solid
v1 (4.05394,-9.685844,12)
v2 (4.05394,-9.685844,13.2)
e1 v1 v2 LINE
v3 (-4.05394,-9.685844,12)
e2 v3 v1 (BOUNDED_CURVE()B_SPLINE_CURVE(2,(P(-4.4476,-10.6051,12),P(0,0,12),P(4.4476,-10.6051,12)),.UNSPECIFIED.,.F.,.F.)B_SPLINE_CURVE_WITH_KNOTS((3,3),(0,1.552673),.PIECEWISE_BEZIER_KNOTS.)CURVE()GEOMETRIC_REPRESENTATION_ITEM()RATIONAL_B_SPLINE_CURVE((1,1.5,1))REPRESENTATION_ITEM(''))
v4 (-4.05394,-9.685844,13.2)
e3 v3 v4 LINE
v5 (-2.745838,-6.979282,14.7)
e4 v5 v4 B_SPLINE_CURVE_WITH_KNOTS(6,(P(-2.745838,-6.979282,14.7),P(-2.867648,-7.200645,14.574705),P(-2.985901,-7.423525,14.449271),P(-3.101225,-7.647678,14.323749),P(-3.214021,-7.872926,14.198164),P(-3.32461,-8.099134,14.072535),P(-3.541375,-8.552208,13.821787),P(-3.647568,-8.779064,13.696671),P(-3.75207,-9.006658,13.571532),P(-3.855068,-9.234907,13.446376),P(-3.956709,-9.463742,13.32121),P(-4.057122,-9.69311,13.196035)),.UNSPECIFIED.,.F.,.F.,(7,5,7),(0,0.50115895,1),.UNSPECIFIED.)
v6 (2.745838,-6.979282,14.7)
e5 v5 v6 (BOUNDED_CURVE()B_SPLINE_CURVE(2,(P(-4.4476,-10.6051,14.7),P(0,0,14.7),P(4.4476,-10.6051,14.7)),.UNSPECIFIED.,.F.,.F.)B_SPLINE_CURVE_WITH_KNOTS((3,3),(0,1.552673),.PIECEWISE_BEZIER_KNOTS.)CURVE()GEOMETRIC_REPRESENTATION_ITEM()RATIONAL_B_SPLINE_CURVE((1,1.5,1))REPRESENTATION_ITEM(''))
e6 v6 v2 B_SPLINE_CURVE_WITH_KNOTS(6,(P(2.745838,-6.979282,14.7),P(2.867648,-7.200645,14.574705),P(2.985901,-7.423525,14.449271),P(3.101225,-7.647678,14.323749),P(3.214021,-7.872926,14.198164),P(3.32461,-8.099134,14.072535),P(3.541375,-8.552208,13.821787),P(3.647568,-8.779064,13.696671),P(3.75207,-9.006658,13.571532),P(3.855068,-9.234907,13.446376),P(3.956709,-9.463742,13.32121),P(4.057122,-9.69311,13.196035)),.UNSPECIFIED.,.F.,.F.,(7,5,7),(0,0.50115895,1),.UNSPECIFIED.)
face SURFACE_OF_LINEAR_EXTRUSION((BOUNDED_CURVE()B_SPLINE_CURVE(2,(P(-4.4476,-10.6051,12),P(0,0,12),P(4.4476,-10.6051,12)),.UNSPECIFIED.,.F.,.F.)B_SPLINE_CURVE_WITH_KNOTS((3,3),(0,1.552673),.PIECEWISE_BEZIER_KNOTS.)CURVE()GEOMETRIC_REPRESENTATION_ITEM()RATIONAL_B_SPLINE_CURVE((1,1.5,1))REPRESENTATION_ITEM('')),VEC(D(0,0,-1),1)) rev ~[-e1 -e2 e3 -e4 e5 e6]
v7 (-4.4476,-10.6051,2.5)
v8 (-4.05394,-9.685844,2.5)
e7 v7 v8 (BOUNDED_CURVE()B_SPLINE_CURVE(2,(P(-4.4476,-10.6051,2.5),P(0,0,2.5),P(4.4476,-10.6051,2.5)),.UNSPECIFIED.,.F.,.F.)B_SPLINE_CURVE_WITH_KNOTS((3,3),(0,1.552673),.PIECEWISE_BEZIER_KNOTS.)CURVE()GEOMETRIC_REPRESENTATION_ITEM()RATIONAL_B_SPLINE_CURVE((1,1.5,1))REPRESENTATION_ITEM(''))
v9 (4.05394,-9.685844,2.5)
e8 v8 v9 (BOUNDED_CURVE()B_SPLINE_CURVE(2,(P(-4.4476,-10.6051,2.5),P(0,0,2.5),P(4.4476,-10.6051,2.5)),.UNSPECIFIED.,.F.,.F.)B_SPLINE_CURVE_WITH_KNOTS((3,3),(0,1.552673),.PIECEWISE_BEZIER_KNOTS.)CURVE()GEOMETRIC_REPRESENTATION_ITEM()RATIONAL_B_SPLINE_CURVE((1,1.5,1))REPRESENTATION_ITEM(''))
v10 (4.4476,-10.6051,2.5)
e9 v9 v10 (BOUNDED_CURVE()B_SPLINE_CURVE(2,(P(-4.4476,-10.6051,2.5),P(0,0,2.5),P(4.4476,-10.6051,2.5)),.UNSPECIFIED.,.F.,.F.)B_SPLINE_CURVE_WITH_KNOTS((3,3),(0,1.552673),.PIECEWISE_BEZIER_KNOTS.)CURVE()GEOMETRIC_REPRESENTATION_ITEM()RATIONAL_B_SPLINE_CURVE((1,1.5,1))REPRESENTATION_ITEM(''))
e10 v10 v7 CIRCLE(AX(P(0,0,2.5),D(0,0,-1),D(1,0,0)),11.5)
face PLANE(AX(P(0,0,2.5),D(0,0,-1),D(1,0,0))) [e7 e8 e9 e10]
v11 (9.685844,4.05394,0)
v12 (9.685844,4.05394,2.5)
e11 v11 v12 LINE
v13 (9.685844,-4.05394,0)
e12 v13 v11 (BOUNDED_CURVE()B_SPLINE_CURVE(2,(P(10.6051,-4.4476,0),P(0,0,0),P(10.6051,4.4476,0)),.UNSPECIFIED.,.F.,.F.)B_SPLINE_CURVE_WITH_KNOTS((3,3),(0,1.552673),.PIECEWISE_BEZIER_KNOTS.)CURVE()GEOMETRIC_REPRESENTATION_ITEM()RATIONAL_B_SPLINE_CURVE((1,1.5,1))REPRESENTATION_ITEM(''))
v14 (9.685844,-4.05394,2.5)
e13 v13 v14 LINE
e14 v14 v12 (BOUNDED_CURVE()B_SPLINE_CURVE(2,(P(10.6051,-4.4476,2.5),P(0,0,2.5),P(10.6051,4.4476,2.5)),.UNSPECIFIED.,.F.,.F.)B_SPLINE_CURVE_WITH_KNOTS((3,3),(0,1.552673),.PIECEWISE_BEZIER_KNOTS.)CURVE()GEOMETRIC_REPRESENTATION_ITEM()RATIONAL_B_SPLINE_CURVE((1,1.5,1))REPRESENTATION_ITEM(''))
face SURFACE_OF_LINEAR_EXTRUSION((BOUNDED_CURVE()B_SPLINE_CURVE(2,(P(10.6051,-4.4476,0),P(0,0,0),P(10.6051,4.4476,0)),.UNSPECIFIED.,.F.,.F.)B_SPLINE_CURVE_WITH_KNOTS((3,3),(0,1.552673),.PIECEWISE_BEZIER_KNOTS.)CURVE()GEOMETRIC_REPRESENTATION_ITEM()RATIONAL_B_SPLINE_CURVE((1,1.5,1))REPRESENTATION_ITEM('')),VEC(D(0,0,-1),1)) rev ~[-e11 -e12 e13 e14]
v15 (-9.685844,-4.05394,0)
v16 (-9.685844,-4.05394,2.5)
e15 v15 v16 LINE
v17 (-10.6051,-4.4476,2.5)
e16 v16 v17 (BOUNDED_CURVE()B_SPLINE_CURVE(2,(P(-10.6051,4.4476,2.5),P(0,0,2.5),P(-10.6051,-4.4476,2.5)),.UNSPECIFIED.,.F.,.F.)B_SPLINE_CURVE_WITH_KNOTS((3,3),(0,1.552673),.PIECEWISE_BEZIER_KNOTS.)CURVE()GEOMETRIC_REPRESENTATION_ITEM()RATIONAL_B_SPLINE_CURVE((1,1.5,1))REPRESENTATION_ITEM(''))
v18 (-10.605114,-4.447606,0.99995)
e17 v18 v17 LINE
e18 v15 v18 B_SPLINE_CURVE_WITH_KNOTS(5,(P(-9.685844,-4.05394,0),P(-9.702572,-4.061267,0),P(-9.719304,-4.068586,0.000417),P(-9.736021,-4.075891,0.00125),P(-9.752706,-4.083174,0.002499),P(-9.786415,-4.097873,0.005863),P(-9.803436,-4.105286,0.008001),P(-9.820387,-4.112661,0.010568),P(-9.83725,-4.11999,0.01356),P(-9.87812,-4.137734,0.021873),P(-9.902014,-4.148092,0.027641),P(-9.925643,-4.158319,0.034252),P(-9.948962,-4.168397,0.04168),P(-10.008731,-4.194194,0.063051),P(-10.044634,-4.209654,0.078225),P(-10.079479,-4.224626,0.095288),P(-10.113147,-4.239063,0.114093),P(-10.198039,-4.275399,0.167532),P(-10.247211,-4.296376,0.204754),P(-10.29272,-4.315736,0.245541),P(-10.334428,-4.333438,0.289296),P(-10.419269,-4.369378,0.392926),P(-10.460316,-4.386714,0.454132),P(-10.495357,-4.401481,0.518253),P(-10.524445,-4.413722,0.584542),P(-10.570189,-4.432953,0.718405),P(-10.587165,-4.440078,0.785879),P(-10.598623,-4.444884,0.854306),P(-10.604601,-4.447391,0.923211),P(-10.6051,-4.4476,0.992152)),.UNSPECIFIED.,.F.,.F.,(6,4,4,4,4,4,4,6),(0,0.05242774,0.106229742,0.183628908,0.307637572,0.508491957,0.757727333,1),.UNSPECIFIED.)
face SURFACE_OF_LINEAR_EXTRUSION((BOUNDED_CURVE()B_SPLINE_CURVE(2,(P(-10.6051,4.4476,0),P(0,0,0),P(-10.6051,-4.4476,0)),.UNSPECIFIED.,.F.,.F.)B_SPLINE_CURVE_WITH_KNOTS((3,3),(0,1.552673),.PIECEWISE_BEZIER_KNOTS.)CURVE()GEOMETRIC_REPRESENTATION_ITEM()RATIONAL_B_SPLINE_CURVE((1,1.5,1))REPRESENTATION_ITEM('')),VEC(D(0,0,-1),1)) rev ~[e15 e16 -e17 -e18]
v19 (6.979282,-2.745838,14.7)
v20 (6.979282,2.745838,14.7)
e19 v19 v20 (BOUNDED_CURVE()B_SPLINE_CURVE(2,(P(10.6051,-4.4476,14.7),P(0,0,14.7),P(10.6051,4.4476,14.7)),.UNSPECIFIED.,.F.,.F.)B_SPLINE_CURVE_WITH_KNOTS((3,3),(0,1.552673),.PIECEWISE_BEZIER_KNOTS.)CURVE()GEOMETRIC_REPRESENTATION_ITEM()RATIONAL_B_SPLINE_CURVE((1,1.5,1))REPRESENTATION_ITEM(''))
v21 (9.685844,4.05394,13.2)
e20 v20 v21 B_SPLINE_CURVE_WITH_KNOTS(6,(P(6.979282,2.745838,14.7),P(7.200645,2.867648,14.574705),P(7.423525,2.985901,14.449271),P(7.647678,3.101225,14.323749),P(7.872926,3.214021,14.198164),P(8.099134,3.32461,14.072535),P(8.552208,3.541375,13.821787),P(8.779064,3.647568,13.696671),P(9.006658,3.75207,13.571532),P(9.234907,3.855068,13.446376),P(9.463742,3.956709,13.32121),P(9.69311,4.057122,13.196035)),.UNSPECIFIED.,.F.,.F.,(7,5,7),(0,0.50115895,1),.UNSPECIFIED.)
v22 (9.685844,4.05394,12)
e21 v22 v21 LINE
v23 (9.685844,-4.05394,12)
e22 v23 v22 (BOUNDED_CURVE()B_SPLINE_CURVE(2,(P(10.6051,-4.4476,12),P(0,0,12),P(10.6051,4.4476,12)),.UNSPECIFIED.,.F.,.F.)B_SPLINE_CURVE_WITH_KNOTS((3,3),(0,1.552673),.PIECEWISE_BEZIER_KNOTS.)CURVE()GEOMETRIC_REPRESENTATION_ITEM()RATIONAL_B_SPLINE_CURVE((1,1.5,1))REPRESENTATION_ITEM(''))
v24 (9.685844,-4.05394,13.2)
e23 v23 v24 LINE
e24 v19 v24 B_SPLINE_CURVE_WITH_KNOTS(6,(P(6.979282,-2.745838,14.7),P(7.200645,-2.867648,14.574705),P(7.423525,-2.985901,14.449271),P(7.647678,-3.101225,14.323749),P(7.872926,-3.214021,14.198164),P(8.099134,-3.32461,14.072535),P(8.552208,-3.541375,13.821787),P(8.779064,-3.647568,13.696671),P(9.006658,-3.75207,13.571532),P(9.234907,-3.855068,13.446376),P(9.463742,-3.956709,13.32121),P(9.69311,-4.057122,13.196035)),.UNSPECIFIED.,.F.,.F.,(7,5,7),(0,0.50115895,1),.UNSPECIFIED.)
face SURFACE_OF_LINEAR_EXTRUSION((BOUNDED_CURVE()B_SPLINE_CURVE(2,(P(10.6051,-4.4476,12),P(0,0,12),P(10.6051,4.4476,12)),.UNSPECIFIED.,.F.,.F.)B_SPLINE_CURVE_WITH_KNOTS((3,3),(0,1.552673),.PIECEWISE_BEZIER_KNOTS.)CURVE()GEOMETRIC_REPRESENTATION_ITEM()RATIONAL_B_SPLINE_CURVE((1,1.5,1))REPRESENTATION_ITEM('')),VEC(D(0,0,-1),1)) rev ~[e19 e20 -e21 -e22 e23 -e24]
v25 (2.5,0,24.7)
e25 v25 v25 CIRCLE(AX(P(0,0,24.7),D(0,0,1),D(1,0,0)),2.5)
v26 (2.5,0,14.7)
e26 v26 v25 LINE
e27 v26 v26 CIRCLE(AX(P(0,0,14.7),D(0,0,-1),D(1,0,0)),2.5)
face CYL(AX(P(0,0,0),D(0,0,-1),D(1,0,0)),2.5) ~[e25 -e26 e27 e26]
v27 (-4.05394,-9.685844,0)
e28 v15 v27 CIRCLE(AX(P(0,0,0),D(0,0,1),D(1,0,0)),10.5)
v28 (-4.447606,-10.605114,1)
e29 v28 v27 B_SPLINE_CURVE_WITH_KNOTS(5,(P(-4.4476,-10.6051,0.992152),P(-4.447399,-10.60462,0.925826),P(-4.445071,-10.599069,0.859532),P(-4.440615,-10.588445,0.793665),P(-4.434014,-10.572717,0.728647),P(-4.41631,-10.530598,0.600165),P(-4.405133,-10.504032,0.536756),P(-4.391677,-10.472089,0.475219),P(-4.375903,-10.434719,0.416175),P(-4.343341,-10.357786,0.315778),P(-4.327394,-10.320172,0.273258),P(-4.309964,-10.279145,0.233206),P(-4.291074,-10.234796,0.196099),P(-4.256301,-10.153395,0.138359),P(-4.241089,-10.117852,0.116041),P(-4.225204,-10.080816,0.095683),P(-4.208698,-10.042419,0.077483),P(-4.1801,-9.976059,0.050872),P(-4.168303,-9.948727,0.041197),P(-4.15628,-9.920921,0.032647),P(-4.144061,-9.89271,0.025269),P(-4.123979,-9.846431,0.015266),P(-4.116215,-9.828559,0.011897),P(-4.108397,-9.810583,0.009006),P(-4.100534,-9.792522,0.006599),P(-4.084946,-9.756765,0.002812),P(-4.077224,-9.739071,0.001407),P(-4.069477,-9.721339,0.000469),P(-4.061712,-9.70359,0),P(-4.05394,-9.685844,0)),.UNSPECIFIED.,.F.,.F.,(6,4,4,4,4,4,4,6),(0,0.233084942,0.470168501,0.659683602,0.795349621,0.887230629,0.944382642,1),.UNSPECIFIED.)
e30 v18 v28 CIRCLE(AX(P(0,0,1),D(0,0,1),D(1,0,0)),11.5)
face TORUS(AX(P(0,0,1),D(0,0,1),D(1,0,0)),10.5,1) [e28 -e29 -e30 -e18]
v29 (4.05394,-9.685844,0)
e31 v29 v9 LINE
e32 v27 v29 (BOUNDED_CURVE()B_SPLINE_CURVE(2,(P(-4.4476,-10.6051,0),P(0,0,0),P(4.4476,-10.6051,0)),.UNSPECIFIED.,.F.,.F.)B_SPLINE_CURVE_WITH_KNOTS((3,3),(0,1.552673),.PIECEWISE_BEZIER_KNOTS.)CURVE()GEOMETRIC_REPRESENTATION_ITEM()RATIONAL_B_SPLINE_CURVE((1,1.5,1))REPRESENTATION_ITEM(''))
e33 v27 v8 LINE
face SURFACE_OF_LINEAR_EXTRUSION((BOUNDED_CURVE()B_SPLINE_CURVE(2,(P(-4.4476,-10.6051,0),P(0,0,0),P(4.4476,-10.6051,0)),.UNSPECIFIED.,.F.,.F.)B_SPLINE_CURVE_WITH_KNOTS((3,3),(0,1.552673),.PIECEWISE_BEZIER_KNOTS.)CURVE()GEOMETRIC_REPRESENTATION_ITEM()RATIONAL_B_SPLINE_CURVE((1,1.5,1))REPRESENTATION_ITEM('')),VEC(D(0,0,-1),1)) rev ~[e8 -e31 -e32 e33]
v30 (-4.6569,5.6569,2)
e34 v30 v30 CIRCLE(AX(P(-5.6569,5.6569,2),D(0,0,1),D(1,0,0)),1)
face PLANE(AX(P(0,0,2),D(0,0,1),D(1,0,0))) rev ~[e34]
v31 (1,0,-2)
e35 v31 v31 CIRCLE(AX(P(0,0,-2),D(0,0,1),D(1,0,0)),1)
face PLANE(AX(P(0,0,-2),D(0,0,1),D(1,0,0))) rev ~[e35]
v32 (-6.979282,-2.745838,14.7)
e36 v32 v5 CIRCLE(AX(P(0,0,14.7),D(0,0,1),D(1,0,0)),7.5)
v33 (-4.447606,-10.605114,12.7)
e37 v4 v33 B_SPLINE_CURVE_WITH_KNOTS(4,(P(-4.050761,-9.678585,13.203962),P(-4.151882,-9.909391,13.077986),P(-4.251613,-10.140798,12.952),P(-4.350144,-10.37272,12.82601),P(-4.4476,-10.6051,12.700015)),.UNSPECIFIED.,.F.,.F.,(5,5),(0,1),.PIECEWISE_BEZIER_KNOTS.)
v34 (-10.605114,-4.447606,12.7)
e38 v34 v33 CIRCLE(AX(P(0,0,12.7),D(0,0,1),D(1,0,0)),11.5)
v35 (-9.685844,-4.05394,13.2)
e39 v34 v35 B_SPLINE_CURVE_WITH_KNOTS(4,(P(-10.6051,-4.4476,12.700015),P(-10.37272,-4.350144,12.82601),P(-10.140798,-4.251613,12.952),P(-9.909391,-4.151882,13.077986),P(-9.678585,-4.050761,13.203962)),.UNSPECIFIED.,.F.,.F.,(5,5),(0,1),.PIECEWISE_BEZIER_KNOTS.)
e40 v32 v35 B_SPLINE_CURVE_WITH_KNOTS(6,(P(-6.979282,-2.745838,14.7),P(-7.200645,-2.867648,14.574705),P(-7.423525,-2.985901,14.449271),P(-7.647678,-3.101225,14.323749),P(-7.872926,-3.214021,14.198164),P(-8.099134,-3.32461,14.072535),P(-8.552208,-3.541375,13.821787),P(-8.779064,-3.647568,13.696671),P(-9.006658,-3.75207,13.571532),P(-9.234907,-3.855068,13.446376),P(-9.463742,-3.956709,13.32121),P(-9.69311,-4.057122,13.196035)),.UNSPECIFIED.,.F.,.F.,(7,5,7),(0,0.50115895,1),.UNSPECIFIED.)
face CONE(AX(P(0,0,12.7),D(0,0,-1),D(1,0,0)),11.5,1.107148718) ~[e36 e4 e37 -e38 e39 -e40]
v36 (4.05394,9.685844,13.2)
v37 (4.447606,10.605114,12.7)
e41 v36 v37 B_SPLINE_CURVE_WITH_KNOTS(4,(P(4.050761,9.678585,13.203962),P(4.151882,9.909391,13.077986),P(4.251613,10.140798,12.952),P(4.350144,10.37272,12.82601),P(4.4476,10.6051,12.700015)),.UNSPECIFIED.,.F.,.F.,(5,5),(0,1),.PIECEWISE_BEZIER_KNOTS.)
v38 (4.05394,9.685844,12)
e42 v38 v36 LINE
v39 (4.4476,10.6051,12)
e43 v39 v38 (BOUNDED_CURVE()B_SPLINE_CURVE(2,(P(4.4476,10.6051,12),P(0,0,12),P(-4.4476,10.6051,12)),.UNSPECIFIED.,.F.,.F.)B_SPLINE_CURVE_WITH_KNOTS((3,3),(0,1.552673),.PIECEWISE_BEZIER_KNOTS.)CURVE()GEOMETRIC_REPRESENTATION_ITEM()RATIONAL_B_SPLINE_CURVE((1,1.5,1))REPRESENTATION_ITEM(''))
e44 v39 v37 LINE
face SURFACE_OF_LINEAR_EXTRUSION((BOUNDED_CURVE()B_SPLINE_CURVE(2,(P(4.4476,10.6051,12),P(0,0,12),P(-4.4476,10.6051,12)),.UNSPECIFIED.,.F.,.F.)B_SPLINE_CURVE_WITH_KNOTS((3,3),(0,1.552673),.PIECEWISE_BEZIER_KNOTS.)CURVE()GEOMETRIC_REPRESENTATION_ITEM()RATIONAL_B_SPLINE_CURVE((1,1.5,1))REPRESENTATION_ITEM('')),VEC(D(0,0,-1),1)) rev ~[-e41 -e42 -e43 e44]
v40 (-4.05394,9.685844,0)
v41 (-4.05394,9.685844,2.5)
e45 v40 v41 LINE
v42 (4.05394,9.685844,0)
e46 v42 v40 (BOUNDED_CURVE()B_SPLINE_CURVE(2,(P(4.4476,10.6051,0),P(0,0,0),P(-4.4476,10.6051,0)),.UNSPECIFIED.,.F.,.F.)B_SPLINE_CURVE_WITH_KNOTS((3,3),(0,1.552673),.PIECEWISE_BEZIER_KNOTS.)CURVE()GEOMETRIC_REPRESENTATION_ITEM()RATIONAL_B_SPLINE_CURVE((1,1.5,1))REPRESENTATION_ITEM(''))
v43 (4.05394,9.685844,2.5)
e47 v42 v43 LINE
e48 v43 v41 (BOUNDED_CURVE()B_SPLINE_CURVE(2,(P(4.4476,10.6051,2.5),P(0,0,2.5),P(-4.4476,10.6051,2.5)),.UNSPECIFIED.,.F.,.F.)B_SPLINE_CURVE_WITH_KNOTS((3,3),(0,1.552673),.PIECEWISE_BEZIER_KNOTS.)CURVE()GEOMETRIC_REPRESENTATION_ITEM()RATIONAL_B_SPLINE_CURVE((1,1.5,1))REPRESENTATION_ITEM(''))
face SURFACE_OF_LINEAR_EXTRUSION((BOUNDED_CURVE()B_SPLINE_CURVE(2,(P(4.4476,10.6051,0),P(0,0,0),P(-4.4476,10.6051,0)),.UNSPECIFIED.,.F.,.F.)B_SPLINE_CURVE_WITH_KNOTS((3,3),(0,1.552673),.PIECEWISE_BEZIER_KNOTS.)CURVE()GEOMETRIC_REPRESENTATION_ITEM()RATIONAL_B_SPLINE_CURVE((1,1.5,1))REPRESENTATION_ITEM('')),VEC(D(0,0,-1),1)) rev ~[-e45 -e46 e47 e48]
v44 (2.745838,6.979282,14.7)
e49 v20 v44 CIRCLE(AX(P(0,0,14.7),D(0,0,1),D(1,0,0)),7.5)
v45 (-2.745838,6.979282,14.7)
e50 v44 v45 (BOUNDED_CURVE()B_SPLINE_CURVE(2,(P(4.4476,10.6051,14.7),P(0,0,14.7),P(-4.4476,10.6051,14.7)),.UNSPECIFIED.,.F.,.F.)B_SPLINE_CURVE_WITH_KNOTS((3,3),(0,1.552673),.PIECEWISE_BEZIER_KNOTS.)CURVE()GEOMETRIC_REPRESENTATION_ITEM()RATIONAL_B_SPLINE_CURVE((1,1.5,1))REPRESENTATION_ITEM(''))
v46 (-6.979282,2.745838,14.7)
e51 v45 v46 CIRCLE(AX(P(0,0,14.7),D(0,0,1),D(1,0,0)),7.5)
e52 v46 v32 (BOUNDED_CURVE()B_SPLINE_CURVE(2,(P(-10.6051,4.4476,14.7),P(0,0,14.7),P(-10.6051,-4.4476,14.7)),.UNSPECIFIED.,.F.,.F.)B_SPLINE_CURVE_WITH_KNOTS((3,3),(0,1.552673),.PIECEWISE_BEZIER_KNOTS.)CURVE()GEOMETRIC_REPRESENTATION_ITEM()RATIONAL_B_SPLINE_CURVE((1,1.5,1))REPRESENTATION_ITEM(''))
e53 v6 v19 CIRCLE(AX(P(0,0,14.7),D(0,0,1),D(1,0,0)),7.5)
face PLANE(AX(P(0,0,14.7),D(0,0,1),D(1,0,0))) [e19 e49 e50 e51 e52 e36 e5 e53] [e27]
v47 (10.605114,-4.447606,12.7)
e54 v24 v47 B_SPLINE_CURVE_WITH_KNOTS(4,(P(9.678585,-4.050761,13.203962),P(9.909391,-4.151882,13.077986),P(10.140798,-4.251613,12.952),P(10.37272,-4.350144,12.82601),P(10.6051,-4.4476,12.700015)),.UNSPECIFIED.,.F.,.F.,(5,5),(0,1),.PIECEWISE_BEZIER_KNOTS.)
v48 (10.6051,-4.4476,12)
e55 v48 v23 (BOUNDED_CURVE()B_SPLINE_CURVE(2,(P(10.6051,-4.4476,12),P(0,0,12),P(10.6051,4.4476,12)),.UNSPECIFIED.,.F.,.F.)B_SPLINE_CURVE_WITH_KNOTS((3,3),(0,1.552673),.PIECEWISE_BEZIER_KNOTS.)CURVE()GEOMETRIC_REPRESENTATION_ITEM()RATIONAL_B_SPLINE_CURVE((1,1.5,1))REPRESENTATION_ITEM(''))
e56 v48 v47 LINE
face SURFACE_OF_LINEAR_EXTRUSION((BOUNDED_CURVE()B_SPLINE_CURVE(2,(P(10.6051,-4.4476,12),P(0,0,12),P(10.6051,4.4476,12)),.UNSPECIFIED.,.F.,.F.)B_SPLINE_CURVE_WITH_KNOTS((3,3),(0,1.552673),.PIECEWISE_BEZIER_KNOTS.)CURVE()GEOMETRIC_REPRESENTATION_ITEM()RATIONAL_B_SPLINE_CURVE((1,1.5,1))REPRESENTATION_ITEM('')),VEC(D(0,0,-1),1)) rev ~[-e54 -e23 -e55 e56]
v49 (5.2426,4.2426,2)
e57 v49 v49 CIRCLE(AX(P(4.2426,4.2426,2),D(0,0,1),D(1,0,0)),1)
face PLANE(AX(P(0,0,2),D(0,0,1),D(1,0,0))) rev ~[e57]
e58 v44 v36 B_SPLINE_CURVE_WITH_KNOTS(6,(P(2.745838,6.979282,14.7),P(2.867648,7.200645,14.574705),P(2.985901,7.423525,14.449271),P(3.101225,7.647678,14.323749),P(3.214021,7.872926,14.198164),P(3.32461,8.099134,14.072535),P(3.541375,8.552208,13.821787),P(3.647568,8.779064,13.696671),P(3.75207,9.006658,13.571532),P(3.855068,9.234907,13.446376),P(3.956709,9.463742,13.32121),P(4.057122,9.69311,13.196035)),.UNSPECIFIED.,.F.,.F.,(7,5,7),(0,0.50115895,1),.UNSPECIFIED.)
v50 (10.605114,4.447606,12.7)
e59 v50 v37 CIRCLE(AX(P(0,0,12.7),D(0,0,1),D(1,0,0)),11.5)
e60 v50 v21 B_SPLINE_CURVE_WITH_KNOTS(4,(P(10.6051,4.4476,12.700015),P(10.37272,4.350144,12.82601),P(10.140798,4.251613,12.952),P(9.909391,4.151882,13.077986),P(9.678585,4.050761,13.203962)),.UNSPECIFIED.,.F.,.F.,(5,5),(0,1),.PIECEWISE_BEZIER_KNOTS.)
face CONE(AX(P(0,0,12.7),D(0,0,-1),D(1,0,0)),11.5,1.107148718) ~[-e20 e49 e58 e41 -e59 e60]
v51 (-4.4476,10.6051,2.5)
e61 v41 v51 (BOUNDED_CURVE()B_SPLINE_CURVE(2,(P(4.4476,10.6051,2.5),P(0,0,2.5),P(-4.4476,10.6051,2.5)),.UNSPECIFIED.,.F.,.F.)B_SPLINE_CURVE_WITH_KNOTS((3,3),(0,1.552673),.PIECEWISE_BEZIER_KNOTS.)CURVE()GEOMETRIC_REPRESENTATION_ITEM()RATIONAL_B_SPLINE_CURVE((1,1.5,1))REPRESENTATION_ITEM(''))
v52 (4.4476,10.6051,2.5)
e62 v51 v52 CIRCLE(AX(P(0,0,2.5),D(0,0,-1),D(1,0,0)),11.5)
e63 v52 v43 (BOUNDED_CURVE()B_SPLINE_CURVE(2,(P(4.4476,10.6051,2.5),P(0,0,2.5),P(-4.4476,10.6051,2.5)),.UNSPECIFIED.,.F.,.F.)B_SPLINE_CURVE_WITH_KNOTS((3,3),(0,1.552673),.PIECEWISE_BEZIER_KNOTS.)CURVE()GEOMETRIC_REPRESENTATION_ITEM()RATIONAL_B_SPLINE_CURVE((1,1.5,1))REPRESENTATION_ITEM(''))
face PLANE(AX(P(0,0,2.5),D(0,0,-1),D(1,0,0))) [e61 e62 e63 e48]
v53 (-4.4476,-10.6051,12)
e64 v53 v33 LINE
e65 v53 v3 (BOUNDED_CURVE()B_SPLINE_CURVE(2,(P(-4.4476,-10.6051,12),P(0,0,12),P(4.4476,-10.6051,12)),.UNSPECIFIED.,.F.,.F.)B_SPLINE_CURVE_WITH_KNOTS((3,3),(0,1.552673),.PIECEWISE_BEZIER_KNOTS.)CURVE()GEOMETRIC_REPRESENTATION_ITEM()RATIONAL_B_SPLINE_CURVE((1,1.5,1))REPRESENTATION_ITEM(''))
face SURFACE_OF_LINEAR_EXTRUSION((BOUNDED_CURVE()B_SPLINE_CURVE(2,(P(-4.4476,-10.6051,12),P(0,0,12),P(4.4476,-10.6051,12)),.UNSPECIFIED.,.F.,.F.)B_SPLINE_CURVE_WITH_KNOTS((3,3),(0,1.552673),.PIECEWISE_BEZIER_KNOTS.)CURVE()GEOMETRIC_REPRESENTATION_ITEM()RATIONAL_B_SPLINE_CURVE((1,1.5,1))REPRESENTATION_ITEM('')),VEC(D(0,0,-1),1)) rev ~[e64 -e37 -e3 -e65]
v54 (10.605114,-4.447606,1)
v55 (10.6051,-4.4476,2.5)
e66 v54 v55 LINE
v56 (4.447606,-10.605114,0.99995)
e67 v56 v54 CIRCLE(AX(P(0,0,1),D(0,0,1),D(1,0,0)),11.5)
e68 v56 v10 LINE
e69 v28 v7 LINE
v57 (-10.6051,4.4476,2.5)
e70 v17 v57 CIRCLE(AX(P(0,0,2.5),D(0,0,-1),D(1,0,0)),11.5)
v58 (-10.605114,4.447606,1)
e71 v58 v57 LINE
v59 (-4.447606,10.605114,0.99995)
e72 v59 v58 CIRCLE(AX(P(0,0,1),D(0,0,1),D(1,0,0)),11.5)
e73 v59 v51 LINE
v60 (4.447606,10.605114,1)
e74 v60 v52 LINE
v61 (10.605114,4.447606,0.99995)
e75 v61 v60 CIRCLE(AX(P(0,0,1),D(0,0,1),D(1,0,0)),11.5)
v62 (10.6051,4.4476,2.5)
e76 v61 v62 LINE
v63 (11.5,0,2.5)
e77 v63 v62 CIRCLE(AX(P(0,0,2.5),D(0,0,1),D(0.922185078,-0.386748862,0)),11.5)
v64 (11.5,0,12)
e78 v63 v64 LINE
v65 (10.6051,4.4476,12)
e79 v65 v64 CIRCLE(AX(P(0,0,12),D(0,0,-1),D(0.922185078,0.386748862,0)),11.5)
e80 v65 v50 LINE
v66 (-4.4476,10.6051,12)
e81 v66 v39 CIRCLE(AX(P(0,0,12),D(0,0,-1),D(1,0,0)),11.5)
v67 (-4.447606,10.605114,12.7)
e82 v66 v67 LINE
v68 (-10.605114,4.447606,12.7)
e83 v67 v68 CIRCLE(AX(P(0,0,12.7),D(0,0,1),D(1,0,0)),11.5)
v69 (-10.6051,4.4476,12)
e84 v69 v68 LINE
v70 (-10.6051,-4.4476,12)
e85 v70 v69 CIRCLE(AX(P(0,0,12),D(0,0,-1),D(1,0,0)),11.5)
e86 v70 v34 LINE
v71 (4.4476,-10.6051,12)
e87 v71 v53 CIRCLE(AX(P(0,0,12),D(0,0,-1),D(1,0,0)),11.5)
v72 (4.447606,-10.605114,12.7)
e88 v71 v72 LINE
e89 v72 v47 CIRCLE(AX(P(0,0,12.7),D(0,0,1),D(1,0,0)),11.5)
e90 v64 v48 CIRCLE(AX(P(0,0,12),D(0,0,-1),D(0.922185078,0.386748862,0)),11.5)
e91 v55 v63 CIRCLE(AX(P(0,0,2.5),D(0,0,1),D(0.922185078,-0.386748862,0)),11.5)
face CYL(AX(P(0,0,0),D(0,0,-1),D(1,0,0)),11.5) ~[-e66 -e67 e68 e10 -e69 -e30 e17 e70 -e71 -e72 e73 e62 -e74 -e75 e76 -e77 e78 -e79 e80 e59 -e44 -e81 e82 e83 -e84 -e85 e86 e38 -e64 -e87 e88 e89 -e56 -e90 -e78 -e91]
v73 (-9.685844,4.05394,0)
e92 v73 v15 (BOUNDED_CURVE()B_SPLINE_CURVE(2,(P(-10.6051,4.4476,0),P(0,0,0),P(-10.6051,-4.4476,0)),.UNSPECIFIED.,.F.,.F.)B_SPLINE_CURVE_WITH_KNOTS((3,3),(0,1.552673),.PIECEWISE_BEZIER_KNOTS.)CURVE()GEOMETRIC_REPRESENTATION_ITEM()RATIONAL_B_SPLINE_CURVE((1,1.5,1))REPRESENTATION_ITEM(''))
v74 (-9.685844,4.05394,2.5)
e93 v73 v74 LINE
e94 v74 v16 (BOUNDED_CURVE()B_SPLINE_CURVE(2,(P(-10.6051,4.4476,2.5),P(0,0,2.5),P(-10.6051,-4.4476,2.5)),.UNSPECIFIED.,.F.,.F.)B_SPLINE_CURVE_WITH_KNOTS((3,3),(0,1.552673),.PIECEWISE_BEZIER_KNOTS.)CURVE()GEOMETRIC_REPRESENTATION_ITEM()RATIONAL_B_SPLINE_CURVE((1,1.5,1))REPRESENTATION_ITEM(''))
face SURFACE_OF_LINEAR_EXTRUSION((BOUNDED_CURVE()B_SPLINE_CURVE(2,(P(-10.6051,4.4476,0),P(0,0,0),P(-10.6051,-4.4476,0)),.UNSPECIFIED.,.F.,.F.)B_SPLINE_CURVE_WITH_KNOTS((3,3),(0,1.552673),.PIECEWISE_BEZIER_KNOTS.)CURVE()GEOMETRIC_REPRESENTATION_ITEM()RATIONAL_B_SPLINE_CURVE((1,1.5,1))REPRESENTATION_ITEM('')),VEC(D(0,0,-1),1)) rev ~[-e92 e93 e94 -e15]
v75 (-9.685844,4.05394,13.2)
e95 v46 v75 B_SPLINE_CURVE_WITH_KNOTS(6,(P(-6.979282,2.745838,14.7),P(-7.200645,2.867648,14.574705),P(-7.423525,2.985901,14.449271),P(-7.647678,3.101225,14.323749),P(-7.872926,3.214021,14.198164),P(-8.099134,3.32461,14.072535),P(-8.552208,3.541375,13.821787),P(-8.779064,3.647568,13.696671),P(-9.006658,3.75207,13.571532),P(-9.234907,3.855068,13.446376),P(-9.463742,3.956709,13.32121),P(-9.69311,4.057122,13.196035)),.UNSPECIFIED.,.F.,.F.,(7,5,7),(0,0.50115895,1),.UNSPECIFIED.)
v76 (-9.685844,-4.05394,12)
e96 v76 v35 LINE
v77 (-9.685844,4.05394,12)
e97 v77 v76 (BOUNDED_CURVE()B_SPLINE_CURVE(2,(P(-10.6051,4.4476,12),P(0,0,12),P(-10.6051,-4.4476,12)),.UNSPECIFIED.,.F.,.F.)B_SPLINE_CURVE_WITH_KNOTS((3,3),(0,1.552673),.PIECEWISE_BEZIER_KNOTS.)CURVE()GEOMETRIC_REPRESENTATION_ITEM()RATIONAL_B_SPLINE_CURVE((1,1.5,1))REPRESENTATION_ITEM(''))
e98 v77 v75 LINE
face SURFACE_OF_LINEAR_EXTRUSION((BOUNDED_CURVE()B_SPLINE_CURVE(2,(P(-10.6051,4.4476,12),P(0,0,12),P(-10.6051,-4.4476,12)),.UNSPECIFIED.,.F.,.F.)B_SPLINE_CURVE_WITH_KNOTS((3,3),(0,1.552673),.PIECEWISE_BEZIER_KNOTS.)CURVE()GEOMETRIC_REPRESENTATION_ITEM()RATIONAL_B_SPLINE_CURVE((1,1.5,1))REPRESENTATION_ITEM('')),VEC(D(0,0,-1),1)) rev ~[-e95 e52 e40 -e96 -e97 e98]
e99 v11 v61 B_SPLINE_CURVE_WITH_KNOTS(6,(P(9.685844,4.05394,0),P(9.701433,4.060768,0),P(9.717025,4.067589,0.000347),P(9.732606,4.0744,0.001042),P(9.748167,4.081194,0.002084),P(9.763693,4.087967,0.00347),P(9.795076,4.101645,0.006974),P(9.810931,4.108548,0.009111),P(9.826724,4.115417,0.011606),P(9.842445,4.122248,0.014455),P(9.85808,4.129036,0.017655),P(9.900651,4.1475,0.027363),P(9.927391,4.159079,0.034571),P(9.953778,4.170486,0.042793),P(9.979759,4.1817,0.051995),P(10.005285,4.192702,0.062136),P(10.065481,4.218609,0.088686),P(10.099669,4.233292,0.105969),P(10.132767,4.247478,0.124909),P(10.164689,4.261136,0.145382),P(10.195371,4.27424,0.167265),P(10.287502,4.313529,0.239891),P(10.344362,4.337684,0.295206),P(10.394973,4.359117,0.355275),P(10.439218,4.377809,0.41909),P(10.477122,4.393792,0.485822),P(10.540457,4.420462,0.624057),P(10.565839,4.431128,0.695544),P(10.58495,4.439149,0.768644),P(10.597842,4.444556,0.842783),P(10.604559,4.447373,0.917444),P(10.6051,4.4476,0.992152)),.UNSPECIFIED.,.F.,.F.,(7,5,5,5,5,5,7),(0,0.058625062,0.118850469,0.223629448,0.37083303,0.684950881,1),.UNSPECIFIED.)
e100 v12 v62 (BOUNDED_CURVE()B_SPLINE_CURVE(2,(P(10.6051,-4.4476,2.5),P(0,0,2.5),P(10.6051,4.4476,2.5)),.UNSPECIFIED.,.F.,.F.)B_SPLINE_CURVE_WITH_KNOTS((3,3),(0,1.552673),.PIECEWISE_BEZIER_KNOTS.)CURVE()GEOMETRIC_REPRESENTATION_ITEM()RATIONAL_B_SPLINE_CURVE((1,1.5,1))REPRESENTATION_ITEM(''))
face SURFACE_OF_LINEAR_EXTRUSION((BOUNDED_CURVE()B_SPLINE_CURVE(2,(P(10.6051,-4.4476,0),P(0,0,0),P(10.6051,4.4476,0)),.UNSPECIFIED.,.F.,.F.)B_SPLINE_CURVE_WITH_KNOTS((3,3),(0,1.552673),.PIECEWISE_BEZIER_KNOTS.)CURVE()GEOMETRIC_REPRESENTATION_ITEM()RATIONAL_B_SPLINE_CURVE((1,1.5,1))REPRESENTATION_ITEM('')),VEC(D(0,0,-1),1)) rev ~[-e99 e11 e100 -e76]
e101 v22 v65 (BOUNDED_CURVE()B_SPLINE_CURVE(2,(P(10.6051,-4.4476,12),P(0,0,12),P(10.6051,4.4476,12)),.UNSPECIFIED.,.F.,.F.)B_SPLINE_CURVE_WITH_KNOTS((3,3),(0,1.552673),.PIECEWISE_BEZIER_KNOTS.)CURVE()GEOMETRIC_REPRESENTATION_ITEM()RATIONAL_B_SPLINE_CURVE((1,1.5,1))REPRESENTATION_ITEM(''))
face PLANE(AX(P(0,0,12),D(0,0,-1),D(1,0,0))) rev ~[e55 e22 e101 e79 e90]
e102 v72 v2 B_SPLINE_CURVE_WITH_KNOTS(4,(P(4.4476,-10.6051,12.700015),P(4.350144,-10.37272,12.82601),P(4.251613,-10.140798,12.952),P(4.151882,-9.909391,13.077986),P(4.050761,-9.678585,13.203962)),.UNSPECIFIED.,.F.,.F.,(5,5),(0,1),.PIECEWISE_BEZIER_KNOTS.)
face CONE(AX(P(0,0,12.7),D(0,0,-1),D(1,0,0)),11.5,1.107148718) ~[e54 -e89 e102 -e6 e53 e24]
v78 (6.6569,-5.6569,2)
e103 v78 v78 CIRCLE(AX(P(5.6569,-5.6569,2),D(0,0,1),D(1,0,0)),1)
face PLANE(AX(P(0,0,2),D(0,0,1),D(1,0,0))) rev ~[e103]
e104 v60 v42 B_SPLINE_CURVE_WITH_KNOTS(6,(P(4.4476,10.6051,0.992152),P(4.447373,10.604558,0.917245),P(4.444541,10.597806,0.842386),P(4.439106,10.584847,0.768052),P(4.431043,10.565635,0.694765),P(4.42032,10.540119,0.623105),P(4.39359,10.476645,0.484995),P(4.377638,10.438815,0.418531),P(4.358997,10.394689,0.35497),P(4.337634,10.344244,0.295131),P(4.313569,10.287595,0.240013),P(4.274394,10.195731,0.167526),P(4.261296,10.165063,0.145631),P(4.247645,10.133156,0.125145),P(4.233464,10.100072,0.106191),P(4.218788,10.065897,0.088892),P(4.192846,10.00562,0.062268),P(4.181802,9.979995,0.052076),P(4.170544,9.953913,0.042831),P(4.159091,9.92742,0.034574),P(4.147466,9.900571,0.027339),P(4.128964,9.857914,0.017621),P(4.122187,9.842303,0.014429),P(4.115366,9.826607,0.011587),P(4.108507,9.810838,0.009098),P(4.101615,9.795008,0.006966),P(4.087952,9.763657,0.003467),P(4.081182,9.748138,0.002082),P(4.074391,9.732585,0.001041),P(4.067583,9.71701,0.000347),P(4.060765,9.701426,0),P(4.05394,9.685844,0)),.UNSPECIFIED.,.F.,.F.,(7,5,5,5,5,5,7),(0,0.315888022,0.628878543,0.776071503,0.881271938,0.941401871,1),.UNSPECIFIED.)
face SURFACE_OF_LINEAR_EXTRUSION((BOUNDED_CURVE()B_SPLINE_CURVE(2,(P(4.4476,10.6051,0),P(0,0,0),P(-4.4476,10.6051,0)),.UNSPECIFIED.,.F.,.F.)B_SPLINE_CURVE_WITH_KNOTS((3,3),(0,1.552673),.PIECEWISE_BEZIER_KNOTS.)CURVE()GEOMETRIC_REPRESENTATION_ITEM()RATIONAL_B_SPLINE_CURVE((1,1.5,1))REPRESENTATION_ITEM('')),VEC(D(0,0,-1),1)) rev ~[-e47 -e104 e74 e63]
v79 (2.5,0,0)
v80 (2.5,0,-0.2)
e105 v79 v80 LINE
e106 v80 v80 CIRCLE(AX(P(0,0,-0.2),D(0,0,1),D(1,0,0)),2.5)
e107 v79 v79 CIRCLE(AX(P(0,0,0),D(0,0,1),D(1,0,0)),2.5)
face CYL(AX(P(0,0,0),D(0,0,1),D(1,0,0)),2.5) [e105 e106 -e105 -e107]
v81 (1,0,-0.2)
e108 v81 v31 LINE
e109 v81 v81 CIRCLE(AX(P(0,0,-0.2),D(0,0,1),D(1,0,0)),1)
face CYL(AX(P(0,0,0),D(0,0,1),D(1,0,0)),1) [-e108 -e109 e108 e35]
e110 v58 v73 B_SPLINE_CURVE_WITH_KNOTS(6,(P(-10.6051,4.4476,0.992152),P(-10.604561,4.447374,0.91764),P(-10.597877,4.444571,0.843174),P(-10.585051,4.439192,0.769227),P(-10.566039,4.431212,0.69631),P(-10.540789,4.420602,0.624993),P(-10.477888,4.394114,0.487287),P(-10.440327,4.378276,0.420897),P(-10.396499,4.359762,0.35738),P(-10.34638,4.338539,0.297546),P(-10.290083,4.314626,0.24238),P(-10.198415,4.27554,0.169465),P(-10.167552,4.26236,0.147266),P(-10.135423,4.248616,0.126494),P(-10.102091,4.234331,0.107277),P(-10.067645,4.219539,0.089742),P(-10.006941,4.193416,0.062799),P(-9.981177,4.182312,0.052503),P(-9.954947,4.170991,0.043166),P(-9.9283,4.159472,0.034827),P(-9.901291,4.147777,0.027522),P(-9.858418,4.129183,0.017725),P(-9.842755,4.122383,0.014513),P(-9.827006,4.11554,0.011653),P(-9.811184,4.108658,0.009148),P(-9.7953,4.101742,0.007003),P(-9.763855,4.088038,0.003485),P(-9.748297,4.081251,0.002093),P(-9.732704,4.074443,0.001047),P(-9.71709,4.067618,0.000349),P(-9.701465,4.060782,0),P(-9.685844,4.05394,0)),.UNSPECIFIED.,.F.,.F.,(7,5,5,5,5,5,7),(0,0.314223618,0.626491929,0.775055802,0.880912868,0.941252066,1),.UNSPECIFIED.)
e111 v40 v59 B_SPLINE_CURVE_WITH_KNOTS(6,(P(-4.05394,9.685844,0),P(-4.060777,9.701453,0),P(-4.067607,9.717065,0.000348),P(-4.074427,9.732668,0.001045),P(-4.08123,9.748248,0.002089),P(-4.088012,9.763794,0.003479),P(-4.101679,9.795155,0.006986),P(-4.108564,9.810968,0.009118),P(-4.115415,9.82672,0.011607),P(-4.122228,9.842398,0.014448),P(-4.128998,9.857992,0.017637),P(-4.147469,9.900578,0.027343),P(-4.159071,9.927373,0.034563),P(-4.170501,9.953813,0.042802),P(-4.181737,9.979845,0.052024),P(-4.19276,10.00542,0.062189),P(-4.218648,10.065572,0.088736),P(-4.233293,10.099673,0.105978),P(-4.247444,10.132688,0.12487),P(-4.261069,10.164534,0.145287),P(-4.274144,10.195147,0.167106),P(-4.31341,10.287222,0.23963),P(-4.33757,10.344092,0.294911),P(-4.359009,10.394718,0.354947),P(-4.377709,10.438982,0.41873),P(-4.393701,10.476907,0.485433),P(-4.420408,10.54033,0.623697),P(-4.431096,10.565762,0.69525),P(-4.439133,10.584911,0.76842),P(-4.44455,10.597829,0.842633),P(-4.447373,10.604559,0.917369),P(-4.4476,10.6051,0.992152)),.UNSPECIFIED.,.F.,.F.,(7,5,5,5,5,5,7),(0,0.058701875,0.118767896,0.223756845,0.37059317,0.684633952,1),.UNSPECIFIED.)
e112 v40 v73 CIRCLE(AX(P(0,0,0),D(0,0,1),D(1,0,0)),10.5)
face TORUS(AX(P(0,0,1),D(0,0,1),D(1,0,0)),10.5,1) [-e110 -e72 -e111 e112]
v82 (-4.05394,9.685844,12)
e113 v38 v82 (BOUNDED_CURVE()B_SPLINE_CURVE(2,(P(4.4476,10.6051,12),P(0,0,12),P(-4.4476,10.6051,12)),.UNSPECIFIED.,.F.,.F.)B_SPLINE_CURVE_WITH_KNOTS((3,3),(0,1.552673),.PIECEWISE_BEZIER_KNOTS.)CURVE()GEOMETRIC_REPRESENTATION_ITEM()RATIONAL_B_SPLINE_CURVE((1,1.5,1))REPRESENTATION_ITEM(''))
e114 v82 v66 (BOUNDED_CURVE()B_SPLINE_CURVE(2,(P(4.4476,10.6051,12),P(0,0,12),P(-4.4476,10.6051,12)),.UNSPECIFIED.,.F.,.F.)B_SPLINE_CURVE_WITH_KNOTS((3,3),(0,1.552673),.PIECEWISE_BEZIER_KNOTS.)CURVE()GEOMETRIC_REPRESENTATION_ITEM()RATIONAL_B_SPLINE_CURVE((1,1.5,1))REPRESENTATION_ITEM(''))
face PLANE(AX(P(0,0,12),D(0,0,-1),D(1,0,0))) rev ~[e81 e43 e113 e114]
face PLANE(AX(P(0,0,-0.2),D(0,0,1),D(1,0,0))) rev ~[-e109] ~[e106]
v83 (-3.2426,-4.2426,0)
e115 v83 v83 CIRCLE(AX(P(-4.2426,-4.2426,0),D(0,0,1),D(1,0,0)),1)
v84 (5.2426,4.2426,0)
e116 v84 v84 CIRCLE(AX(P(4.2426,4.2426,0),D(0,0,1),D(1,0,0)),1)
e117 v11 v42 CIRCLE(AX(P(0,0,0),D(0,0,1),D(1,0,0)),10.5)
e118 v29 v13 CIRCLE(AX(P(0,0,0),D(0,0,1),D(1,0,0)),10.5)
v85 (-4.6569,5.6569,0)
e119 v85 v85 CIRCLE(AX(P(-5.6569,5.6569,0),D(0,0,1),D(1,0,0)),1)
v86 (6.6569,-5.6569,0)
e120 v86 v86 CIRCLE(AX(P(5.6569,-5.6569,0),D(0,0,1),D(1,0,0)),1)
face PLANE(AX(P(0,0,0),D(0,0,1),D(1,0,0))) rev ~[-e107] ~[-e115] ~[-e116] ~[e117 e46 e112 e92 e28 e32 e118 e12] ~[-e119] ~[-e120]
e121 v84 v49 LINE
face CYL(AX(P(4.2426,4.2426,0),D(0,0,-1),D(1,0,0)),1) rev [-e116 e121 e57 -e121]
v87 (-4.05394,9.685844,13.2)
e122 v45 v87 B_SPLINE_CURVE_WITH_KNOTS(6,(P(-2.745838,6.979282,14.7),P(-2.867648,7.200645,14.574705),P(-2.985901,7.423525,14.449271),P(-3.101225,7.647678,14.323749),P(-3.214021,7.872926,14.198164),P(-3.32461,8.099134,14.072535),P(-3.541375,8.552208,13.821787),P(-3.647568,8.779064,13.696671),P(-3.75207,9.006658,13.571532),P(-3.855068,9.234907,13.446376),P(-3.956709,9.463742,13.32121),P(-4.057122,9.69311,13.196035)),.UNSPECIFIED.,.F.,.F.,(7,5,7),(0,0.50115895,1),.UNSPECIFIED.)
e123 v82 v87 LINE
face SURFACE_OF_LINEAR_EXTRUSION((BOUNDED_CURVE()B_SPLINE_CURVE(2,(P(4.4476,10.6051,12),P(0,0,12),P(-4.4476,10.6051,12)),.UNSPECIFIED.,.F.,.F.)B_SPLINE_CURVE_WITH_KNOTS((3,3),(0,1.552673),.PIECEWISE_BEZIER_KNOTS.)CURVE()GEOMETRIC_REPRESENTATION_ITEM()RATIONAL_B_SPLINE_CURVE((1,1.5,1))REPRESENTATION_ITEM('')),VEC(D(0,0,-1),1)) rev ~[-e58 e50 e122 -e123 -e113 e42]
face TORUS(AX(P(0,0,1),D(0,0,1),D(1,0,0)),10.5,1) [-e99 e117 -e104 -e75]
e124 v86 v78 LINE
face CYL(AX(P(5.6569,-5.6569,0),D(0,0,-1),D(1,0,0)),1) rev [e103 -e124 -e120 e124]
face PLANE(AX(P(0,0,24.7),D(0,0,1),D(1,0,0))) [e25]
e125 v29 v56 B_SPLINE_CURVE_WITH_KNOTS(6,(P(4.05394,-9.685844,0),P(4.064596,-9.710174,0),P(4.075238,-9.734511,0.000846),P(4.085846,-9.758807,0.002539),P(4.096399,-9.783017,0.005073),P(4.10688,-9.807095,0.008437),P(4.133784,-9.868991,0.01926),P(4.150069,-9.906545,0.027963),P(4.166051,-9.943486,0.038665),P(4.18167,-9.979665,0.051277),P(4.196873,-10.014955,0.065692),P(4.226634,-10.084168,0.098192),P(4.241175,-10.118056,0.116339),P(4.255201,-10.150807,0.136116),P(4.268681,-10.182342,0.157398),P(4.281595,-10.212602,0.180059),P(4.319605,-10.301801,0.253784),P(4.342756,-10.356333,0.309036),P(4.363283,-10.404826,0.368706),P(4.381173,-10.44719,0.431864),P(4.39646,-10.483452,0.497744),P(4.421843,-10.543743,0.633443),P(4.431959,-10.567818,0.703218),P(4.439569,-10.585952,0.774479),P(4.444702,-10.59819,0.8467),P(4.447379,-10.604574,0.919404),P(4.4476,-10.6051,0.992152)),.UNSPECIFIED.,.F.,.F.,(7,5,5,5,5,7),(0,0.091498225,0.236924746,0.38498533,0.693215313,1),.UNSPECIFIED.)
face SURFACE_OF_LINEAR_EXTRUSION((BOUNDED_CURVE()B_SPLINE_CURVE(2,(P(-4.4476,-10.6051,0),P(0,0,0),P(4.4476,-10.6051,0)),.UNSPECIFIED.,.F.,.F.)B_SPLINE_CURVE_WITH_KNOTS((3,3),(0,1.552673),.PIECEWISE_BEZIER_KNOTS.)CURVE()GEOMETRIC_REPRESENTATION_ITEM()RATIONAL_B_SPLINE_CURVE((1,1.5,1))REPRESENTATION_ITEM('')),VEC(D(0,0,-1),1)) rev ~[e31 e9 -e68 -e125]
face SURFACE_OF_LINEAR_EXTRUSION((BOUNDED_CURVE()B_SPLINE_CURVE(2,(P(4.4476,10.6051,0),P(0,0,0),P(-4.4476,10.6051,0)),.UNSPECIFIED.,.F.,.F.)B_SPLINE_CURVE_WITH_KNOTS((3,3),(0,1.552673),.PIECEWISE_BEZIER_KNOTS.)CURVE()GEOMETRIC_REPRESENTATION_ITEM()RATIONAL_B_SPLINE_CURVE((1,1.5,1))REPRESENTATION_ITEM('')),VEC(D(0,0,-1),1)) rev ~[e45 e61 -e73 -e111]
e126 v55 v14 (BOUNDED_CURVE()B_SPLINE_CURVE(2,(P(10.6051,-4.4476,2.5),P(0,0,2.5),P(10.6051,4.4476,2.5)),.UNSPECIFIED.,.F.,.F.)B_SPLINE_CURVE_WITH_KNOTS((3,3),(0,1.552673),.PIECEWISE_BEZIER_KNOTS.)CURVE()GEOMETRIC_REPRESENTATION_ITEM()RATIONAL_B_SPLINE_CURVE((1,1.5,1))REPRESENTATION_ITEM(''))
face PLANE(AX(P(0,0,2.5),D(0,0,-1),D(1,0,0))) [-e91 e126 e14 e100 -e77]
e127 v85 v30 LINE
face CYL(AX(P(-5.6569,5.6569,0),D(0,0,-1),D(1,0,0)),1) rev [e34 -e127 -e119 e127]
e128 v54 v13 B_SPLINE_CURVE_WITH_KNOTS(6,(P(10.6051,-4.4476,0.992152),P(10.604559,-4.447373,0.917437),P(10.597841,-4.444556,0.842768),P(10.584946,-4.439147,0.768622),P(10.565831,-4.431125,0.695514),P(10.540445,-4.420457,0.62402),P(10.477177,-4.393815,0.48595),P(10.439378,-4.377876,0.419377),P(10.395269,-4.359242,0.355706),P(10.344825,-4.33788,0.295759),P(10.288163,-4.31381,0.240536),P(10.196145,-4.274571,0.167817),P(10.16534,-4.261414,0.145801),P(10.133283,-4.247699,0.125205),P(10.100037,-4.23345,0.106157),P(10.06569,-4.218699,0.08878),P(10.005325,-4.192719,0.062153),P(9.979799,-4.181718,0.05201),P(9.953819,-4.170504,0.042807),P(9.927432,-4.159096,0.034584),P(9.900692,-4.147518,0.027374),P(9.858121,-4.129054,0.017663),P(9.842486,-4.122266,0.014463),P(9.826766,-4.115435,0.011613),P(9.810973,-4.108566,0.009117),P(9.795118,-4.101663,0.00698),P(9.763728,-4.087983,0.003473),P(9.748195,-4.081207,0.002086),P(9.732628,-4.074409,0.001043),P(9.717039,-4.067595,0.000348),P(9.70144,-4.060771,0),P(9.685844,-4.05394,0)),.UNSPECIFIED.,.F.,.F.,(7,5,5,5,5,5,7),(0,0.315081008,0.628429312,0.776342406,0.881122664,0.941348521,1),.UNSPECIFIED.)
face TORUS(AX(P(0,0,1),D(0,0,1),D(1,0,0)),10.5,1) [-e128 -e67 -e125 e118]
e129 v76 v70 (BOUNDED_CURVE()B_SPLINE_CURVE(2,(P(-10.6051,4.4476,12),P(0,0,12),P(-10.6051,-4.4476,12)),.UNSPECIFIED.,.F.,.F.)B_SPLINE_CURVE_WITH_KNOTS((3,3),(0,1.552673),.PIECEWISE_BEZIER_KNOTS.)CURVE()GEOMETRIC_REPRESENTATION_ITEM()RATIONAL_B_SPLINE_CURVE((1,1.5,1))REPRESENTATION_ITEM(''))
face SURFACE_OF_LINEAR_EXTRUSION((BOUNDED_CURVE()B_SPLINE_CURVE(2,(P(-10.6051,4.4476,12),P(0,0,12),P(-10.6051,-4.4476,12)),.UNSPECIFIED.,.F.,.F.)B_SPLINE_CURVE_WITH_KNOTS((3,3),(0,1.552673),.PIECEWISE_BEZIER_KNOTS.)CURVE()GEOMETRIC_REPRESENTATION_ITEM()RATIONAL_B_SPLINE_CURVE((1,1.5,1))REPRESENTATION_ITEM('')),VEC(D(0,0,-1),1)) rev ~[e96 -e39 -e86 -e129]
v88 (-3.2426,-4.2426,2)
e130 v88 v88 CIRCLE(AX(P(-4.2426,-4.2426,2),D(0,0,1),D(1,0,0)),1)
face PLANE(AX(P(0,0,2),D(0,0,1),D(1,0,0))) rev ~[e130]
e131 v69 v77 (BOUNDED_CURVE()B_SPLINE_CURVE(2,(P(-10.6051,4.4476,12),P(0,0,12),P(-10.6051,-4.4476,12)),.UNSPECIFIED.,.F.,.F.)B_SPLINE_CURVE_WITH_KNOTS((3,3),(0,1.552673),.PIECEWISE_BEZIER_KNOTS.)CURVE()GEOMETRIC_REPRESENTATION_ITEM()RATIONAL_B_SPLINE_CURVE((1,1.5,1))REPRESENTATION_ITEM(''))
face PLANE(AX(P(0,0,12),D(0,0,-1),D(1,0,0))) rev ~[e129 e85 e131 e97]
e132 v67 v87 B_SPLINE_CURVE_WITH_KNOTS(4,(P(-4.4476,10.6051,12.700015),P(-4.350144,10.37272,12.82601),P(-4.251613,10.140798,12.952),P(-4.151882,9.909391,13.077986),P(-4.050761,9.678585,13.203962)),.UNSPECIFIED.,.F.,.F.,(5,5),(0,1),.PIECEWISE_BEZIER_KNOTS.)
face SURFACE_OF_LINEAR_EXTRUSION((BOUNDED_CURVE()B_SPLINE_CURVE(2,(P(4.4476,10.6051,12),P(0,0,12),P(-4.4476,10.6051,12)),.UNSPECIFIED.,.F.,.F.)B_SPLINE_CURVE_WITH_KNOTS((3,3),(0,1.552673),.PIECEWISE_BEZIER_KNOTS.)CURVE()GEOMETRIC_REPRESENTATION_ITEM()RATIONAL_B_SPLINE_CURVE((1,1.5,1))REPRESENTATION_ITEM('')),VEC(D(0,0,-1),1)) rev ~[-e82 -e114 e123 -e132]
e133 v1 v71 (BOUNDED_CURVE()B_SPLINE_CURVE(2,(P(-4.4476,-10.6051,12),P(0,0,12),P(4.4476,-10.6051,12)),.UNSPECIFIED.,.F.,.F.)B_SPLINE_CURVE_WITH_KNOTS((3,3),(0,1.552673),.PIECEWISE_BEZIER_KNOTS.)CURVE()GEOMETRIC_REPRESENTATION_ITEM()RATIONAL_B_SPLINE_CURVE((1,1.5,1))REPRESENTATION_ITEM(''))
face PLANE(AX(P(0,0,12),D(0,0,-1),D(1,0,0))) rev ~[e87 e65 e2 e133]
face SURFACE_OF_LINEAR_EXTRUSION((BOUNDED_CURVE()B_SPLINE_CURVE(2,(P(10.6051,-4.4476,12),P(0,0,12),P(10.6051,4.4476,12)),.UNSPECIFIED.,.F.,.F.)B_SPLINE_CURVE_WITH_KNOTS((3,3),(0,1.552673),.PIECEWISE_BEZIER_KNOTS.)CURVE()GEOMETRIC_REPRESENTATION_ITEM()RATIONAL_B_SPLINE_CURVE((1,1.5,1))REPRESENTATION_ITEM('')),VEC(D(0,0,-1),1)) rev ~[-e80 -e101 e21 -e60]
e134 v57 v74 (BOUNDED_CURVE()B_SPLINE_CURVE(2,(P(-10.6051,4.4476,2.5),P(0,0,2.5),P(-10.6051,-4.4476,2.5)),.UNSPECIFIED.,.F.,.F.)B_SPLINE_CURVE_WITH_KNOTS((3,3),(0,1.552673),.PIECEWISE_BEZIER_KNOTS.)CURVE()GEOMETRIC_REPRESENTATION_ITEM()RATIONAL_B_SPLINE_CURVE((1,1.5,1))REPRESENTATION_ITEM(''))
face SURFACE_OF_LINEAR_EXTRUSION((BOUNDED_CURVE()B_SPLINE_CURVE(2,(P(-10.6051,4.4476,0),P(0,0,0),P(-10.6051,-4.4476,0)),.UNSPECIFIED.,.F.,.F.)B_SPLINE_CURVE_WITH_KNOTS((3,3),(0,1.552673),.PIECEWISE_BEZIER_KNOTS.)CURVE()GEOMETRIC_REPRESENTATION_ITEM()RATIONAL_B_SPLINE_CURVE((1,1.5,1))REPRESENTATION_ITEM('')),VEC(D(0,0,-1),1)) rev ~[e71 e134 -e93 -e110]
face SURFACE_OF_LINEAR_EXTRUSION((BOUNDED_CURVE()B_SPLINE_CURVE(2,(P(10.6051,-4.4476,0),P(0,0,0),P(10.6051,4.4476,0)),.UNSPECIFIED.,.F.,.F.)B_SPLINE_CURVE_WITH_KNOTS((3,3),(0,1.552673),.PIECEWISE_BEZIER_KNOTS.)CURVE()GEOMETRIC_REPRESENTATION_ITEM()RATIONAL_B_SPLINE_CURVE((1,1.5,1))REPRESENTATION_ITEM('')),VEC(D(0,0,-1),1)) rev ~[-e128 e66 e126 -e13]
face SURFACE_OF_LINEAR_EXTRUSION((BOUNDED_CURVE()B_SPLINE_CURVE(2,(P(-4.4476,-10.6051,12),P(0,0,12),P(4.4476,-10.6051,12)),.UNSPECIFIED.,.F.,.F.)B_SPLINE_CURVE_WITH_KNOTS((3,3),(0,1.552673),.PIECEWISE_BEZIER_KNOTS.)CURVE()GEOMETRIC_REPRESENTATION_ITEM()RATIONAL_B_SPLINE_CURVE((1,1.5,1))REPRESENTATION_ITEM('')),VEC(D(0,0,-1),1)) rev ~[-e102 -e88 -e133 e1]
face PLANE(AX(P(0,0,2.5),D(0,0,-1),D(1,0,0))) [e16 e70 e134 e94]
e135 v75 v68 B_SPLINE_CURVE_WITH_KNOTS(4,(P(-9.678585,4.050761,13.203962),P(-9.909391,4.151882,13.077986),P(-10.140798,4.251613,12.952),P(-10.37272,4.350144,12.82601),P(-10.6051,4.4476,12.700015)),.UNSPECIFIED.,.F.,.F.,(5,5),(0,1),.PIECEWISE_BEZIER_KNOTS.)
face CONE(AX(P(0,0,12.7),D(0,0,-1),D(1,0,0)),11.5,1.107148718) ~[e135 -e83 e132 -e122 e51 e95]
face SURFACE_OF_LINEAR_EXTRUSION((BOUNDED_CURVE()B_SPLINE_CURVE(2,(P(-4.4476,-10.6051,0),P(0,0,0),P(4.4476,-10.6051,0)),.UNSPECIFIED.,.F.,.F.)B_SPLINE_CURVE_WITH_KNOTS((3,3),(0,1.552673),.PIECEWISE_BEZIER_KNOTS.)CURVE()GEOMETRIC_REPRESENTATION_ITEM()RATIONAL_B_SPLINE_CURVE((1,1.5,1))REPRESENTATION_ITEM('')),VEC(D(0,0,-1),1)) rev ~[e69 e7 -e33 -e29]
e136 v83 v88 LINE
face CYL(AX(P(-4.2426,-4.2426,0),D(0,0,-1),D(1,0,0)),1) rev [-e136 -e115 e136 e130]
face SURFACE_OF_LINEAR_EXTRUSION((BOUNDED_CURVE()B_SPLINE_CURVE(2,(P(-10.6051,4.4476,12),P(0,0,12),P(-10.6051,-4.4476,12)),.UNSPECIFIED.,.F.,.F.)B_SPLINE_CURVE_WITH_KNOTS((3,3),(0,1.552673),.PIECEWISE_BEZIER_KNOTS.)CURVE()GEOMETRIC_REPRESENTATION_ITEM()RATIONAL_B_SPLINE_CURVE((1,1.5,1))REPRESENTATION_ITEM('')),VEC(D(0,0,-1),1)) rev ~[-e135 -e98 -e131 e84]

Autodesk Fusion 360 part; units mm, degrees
sketch "Sketch1" plane through (0, 0, 0) normal (0, 0, 1) x (1, 0, 0)
  circle A0 centre (0, 0) radius 2.5
  circle A1 centre (0, 0) radius 11.5
  line L0 (-5.6569, 5.6569) -> (5.6569, -5.6569) construction
  line L1 (4.2426, 4.2426) -> (-4.2426, -4.2426) construction
  circle A2 centre (-5.6569, 5.6569) radius 1
  circle A3 centre (4.2426, 4.2426) radius 1
  circle A4 centre (5.6569, -5.6569) radius 1
  circle A5 centre (-4.2426, -4.2426) radius 1
  line L2 (0, 0) -> (4, 0) construction
  circle A6 centre (0, 0) radius 1
  dimension "d1" = 5
  dimension "d2" = 23
  dimension "d3" = 12
  dimension "d4" = 16
  dimension "d5" = 2
  dimension "d6" = 45
  dimension "d7" = 2
extrude "Extrude1" add sketch "Sketch1" against normal blind 2 contours A6
extrude "Extrude2" add sketch "Sketch1" along normal blind 14.7 contours A0 | A1 | A2 | A3 | A4 | A5 | A6
extrude "Extrude3" add sketch "Sketch1" against normal blind 0.2 contours A0
extrude "Extrude4" cut sketch "Sketch1" along normal blind 2 contours A2 | A3 | A4 | A5
extrude "Extrude5" add sketch "Sketch1" along normal blind 24.7 contours A0 | A6
fillet "Fillet1" radius 1 1 edges at (-10.7218, -4.1586, 0)
chamfer "Chamfer1" distance 4 distance2 2 1 edges at (-10.7218, -4.1586, 14.7) measured on face at (8.4479, -0.6955, 14.7)
sketch "Sketch2" plane through (0, 0, 0) normal (0, 0, -1) x (1, 0, 0)
  circle A0 centre (0, 0) radius 2.5
  circle A1 centre (4.2426, -4.2426) radius 1
  circle A2 centre (-5.6569, -5.6569) radius 1
  circle A3 centre (5.6569, 5.6569) radius 1
  circle A4 centre (-4.2426, 4.2426) radius 1
  circle A5 centre (0, 0) radius 10.5
  spline S0 degree 2 poles (-4.4476, 10.6051) (0, 0) (4.4476, 10.6051) knots 0 0 0 1.552673 1.552673 1.552673 weights 1 1.5 1
  spline S1 degree 2 poles (-10.6051, -4.4476) (0, 0) (-10.6051, 4.4476) knots 0 0 0 1.552673 1.552673 1.552673 weights 1 1.5 1
  spline S2 degree 2 poles (4.4476, -10.6051) (0, 0) (-4.4476, -10.6051) knots 0 0 0 1.552673 1.552673 1.552673 weights 1 1.5 1
  spline S3 degree 2 poles (10.6051, 4.4476) (0, 0) (10.6051, -4.4476) knots 0 0 0 1.552673 1.552673 1.552673 weights 1 1.5 1
  circle A6 centre (0, 0) radius 11.5
  line L0 (-4.4476, 10.6051) -> (4.4476, 10.6051) construction
  dimension "d24" = 360
extrude "Extrude6" cut sketch "Sketch2" against normal blind 2.5 contours A5 S3 | A5 S3 A6 | A5 S0 | A5 S0 A6 | A5 S2 A6 | A5 S2 | A5 S1 | A5 S1 A6
extrude "Extrude7" cut sketch "Sketch2" along normal blind -14.7 and the other way blind 12 contours A5 S3 | A5 S3 A6 | A5 S0 | A5 S0 A6 | A5 S2 A6 | A5 S2 | A5 S1 | A5 S1 A6
